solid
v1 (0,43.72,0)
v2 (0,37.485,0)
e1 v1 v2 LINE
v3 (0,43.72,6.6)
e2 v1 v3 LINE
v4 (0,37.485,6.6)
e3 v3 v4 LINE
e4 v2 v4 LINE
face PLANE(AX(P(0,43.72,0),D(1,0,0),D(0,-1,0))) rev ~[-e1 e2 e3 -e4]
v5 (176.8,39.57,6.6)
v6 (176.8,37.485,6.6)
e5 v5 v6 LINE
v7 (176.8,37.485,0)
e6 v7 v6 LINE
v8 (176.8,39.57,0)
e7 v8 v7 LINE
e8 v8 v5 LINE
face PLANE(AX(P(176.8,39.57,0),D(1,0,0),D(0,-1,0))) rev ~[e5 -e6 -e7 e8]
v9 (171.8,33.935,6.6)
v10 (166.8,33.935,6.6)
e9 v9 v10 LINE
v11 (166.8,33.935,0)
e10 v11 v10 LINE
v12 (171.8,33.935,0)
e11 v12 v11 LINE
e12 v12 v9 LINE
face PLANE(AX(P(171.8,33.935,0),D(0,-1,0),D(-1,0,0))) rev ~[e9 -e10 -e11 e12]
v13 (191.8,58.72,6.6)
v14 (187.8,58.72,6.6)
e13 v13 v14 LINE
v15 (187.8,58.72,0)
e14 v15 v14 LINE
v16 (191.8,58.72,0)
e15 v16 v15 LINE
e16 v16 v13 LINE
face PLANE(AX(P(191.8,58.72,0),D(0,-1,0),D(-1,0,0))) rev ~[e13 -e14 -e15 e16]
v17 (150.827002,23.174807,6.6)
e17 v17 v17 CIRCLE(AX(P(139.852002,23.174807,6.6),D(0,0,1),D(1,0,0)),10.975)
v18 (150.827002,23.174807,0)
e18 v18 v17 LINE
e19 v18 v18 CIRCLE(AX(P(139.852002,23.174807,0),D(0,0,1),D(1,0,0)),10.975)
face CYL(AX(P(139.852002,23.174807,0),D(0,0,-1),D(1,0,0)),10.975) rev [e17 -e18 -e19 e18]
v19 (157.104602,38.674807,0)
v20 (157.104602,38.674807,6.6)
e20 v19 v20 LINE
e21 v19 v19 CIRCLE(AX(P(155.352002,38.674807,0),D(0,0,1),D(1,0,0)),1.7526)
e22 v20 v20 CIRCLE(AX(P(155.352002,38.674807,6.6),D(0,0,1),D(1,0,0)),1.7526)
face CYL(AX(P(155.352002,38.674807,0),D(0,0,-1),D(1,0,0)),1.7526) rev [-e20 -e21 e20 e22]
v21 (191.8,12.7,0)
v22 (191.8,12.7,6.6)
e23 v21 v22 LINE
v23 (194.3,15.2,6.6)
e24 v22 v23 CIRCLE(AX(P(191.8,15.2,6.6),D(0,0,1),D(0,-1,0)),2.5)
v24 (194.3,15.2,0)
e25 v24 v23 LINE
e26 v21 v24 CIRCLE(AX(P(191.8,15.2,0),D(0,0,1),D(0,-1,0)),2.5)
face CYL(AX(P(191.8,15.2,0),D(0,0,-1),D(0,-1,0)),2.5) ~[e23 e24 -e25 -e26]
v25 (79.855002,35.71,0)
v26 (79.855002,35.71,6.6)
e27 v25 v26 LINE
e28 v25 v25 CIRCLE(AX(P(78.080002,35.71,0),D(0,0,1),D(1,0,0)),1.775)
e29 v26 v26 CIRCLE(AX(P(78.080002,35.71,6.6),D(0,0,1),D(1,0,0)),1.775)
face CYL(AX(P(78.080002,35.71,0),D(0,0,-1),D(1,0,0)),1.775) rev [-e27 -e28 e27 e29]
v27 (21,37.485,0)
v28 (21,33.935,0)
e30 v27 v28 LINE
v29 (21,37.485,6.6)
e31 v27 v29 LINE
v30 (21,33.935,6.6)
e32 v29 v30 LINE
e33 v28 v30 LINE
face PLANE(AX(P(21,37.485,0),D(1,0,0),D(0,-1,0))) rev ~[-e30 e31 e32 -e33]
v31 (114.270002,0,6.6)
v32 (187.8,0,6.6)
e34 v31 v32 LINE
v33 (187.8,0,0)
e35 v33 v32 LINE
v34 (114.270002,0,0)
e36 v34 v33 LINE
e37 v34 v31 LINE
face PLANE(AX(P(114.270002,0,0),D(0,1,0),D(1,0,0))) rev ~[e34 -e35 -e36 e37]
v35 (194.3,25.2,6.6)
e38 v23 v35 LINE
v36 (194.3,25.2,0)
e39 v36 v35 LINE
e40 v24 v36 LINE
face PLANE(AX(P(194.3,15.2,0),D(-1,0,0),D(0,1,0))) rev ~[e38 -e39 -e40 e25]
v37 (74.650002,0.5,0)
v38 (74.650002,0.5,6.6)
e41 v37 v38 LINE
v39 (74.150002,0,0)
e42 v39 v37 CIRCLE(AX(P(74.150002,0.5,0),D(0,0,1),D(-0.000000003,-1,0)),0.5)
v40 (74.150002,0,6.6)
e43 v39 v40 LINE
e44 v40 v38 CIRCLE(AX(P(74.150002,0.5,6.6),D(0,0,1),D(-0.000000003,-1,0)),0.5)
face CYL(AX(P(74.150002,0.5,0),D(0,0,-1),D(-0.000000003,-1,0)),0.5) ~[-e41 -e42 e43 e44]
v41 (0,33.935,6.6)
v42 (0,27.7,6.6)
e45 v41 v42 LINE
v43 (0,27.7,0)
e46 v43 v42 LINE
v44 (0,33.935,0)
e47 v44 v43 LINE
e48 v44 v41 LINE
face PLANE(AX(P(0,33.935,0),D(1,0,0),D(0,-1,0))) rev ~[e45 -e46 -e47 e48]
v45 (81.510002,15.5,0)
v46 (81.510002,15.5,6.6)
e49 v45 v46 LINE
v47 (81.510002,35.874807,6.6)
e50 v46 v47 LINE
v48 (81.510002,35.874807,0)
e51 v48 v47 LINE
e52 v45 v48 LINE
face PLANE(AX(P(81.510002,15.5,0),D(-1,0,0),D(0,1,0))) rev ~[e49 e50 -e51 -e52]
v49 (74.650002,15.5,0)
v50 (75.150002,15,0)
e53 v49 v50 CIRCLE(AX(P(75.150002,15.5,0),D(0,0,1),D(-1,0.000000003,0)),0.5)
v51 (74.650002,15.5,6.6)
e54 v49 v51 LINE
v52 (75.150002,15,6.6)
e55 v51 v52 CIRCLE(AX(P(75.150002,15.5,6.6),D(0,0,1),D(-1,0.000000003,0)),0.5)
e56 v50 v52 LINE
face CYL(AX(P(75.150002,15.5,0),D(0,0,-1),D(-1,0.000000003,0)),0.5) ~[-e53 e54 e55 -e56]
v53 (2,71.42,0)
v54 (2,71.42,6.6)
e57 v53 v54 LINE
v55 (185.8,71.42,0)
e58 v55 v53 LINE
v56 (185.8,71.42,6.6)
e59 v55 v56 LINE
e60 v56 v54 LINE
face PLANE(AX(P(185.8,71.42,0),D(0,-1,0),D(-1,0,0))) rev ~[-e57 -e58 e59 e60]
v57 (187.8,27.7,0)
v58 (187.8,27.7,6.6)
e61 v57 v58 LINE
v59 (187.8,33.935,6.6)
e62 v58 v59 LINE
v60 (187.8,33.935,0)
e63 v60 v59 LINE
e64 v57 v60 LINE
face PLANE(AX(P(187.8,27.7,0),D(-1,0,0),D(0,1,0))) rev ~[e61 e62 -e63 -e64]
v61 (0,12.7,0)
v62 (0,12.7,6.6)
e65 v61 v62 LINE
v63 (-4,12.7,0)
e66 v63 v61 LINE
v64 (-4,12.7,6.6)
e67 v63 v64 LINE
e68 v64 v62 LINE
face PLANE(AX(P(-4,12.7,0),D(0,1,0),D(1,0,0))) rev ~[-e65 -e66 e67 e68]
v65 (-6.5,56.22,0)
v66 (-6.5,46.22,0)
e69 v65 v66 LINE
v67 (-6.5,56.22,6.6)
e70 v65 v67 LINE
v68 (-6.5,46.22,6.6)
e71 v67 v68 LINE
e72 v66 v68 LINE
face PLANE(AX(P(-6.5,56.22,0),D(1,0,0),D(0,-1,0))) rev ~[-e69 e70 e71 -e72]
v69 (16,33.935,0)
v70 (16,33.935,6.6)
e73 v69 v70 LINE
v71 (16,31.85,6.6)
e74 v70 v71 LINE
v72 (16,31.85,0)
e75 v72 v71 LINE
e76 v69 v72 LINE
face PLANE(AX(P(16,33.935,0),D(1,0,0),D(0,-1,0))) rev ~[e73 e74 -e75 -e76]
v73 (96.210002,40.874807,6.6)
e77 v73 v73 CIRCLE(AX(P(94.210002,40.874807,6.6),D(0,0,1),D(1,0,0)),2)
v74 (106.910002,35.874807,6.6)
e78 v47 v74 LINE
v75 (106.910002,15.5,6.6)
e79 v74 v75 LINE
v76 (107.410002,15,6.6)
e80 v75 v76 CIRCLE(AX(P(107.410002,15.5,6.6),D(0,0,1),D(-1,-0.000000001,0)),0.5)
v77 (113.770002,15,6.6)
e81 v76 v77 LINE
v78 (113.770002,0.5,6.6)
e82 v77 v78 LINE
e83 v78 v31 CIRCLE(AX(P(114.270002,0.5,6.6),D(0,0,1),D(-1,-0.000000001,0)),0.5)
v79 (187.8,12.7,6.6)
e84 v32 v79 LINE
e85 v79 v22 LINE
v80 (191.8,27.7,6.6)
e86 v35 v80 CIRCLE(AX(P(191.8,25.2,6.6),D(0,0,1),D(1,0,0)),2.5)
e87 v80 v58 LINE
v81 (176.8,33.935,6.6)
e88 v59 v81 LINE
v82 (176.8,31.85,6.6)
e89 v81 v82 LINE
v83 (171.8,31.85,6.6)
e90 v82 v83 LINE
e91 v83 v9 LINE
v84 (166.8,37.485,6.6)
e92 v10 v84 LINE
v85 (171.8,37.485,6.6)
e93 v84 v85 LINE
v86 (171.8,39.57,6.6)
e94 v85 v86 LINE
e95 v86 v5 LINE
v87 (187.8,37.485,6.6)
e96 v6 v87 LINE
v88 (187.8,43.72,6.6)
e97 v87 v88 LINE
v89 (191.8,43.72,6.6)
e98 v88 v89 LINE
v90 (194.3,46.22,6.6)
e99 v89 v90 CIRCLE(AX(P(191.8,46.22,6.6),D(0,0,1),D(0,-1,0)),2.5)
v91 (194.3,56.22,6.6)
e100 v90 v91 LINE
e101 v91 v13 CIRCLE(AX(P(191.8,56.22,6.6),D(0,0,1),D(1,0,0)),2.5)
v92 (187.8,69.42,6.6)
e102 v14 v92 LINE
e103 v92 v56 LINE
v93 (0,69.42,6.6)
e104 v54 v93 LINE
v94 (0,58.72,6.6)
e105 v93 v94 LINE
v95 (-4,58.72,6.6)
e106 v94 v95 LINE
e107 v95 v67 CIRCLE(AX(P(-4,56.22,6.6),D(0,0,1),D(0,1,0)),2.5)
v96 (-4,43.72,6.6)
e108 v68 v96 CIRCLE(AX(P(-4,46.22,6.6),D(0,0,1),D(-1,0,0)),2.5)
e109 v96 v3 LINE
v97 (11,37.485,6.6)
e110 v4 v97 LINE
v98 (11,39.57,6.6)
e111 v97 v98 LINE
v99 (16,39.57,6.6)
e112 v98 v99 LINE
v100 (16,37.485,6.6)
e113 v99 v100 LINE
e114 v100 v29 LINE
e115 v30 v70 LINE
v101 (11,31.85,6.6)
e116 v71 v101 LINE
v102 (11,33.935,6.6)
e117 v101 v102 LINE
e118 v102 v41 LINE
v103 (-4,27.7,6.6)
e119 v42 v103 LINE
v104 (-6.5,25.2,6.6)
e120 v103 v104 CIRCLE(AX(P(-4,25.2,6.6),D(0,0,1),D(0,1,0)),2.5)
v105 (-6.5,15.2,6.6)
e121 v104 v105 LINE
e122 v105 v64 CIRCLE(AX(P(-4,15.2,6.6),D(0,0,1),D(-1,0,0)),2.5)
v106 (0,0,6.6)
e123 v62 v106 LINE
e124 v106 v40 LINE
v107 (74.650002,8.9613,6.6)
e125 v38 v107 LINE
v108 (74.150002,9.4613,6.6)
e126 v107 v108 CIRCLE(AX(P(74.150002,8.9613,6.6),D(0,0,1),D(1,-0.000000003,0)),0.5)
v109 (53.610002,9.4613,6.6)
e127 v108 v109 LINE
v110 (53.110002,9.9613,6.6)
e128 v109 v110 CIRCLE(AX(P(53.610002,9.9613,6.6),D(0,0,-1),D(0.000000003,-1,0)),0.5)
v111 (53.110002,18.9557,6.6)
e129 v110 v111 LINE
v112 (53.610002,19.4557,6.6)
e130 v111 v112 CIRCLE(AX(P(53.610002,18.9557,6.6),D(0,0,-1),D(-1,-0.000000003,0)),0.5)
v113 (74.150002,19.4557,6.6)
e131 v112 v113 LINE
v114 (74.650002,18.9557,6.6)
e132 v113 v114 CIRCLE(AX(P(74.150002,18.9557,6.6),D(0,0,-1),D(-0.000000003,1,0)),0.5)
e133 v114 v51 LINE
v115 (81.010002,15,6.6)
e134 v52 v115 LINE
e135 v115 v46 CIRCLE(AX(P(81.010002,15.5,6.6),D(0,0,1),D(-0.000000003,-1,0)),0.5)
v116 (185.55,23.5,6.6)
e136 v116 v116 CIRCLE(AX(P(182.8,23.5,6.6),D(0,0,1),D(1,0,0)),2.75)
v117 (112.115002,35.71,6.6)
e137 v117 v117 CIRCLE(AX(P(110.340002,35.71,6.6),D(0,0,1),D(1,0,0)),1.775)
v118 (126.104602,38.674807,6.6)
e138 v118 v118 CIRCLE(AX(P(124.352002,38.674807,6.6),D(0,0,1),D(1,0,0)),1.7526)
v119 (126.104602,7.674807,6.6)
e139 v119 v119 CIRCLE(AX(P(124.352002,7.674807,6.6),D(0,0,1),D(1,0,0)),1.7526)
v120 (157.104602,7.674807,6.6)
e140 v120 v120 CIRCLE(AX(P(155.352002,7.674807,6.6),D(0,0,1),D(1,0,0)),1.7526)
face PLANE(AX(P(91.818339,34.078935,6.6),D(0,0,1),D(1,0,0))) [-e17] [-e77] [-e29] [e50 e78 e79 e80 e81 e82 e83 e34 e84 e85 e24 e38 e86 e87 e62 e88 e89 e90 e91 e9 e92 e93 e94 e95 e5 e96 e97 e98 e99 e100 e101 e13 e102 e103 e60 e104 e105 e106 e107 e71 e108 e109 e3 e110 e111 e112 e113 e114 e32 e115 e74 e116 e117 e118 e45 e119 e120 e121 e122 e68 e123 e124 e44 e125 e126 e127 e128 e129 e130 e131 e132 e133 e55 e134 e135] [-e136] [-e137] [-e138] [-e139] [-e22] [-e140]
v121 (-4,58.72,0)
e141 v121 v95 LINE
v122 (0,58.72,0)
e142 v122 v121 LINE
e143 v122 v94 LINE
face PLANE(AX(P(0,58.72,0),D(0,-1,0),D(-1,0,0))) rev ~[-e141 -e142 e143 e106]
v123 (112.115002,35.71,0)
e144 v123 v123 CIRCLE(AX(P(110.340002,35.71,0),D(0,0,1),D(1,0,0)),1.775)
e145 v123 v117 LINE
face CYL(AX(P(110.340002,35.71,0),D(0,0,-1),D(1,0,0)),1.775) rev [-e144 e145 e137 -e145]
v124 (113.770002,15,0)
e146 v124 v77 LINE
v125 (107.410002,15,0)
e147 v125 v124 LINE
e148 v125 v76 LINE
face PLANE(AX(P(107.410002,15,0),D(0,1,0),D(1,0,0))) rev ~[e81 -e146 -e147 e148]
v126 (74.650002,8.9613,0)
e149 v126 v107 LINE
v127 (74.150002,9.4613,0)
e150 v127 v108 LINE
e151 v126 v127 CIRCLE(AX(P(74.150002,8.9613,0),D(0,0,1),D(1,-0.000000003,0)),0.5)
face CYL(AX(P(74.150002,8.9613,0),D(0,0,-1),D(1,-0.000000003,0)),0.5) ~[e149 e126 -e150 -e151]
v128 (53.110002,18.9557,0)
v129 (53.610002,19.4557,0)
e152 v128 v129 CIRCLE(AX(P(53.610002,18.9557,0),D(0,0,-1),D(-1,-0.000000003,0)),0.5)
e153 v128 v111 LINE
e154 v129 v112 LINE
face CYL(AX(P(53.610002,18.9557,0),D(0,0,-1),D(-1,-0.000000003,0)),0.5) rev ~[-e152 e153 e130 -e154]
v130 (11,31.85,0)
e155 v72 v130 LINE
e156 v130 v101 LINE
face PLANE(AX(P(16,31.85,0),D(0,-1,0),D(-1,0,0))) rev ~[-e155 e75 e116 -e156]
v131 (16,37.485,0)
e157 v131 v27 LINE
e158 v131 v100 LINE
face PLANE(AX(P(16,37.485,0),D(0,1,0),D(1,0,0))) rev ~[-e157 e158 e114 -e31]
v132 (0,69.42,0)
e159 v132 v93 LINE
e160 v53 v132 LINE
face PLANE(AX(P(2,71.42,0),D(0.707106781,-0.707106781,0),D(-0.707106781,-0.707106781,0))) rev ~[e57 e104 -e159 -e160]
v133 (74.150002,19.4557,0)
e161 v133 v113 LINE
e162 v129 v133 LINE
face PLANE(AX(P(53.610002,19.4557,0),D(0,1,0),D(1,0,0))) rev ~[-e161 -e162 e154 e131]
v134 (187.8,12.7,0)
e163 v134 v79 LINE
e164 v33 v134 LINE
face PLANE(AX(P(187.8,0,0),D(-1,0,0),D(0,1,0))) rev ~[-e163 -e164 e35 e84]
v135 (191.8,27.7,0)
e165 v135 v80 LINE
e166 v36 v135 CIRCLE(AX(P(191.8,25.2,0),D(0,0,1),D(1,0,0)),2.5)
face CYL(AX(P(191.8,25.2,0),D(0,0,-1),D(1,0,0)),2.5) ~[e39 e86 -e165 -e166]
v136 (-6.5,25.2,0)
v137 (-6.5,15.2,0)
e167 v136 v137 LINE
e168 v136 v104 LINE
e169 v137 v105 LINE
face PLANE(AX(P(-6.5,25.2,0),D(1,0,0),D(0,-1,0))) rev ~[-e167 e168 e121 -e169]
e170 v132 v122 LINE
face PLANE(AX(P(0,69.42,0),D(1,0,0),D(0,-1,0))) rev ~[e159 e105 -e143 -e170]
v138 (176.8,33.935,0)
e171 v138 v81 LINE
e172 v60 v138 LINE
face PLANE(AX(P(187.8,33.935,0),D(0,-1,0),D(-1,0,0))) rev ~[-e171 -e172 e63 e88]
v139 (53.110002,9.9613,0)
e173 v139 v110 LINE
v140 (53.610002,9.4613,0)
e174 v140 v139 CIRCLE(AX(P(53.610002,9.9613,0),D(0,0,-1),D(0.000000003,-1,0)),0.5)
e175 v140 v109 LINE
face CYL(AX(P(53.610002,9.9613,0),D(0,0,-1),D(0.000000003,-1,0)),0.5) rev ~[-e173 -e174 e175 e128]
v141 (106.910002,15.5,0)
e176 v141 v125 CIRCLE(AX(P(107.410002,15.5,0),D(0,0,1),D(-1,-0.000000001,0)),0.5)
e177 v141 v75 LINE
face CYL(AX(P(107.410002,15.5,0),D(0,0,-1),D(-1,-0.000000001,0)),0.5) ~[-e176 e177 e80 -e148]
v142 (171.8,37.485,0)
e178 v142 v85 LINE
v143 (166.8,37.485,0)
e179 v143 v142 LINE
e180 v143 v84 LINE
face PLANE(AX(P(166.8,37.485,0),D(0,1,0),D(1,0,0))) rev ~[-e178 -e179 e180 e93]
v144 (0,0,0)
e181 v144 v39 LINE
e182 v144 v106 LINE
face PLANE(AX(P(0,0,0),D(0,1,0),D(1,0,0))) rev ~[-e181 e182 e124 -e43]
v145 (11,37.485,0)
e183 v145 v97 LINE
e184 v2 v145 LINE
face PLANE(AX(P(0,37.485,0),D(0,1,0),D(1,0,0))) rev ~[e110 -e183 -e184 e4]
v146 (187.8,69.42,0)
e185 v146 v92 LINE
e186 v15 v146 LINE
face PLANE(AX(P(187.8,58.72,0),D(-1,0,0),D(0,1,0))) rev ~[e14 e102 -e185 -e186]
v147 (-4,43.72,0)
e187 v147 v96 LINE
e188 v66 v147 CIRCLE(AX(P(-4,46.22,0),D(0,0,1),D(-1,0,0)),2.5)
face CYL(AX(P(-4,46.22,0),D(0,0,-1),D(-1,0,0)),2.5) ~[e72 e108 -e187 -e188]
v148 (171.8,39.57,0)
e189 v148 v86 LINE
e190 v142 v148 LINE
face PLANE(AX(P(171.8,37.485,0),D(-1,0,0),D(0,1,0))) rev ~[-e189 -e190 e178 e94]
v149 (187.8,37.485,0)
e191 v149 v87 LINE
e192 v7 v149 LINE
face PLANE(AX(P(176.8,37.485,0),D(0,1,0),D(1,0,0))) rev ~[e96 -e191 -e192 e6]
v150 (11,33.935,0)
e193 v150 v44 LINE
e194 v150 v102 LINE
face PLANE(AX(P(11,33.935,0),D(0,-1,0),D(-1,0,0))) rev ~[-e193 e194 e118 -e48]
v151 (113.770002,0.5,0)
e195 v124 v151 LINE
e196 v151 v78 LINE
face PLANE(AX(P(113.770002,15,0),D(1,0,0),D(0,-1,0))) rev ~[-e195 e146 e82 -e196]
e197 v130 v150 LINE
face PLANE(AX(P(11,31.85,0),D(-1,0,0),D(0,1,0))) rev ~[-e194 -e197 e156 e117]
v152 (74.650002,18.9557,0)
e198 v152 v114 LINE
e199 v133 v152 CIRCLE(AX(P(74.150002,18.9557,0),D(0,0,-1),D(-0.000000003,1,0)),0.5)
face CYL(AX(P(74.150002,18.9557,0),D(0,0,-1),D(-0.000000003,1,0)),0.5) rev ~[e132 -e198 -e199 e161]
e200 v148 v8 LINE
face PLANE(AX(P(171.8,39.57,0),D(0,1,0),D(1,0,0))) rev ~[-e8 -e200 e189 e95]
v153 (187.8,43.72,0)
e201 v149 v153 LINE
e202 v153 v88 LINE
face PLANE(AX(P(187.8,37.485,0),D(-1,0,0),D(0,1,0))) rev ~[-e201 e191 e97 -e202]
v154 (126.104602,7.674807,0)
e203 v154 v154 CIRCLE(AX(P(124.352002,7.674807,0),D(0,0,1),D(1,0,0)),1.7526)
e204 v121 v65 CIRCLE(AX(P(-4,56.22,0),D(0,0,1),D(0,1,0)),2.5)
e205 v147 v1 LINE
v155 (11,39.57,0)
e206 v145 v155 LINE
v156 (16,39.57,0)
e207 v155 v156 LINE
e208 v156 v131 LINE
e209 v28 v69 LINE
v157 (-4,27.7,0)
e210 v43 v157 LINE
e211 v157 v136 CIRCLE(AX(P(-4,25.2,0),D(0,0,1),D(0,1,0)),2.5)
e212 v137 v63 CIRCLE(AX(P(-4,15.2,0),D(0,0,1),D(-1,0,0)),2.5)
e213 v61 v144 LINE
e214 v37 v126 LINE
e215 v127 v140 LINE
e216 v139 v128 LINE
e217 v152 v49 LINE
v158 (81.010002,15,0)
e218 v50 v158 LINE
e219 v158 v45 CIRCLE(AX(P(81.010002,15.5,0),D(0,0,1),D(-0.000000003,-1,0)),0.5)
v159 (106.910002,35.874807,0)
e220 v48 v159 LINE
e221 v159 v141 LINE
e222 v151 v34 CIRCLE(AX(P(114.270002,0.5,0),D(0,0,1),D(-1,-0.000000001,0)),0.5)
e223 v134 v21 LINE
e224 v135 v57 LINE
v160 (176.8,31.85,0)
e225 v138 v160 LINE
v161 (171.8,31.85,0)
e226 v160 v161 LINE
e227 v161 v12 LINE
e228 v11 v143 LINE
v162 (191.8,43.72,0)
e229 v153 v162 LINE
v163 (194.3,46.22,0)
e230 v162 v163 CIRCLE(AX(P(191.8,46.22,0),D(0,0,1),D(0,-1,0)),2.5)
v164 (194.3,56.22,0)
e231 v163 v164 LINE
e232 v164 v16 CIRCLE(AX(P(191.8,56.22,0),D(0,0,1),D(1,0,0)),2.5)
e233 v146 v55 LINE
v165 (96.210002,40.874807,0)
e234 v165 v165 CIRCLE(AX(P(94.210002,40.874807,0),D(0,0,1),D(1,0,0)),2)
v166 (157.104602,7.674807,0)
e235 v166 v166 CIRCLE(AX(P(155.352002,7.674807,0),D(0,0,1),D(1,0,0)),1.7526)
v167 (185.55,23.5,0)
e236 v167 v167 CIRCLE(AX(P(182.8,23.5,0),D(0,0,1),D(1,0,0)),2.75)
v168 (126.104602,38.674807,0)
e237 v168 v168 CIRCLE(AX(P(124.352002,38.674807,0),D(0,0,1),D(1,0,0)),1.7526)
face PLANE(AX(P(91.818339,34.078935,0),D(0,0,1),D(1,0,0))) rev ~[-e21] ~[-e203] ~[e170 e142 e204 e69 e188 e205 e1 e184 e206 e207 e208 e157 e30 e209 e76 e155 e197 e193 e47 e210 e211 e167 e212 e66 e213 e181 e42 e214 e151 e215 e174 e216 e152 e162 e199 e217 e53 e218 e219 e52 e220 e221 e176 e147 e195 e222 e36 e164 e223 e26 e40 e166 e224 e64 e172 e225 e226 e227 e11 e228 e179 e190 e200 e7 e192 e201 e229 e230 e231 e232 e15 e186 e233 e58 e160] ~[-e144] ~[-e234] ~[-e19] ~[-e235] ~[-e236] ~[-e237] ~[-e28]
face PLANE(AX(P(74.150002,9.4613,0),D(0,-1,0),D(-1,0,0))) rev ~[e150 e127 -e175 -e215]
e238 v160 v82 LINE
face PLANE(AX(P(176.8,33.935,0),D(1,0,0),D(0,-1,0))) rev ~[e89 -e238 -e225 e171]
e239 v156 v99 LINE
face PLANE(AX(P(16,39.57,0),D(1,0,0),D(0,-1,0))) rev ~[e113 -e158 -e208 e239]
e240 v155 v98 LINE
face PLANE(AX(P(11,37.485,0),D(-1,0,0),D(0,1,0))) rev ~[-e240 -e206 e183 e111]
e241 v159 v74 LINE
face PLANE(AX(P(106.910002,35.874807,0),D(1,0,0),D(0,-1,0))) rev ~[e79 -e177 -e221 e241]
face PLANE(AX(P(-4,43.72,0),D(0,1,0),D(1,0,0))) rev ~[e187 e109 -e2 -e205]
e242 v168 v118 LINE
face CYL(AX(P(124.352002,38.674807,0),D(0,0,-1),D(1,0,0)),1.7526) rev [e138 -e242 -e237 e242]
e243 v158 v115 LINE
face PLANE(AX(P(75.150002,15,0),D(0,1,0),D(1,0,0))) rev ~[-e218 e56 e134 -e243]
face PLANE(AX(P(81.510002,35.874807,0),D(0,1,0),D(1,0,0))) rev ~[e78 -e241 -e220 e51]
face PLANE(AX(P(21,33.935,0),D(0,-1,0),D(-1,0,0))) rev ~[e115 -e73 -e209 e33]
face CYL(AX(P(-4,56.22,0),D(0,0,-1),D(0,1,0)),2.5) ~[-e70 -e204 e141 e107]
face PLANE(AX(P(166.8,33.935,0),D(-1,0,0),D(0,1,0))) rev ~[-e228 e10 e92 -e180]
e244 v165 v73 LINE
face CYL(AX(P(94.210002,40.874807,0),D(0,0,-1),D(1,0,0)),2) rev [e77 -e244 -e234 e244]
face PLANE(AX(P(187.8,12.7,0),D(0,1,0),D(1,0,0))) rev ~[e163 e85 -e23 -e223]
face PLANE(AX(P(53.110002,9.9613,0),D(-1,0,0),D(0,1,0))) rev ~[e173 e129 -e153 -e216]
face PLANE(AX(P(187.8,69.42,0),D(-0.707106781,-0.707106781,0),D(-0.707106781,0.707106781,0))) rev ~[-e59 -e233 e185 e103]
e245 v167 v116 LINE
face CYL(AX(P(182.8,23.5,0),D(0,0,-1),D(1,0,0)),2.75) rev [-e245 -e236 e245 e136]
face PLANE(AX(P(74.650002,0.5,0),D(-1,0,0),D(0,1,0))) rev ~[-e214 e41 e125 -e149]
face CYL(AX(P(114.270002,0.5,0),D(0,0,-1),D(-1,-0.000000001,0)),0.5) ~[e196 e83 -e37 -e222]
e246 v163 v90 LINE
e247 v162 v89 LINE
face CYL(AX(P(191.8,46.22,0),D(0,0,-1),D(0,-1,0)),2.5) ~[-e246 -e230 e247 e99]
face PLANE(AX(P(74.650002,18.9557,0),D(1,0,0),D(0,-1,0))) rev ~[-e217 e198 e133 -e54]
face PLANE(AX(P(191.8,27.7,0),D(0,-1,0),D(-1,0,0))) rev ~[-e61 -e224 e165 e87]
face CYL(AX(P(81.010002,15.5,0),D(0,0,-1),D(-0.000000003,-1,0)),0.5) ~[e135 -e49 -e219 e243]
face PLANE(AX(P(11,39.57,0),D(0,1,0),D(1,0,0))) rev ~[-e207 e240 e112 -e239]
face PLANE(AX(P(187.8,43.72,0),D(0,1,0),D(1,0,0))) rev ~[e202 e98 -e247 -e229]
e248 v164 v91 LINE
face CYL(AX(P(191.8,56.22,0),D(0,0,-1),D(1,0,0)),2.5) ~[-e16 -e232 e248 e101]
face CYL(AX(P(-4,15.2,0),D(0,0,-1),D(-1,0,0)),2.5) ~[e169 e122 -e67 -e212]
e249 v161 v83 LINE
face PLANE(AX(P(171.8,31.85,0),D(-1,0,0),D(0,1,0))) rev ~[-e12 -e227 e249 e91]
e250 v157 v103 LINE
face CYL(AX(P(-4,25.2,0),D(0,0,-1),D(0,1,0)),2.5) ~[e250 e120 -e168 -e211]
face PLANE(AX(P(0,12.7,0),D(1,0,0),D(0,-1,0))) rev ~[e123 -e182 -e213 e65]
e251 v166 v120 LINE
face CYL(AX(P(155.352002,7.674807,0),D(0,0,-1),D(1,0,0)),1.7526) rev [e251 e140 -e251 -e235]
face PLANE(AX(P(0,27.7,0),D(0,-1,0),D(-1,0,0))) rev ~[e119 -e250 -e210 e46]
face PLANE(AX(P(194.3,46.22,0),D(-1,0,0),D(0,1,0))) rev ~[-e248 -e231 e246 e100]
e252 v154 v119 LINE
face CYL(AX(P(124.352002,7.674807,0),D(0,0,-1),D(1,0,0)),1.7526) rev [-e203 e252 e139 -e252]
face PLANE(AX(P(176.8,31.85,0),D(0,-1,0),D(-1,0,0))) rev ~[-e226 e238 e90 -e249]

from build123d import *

# Parameters (mm, degrees)
MODEL_R             = 1.7526
MODEL_R_2           = 10.975
MODEL_R_3           = 2
MODEL_R_4           = 2.75
MODEL_R_5           = 1.775
BOSS_EXTRUDE1_DEPTH = 6.6


with BuildPart() as part:
    # Model → Boss-Extrude1 (new body)
    with BuildSketch(Plane.XY):
        with BuildLine():
            Line((0, 0), (74.150001665, 0))
            ThreePointArc((74.150001665, 0), (74.503555056, 0.146446609), (74.650001665, 0.5))
            Line((74.650001665, 0.5), (74.650001665, 8.9613))
            ThreePointArc((74.650001665, 8.9613), (74.503555056, 9.314853391), (74.150001665, 9.4613))
            Line((74.150001665, 9.4613), (53.610001665, 9.4613))
            ThreePointArc((53.610001665, 9.4613), (53.256448274, 9.607746609), (53.110001665, 9.9613))
            Line((53.110001665, 9.9613), (53.110001665, 18.9557))
            ThreePointArc((53.110001665, 18.9557), (53.256448274, 19.309253391), (53.610001665, 19.4557))
            Line((53.610001665, 19.4557), (74.150001665, 19.4557))
            ThreePointArc((74.150001665, 19.4557), (74.503555056, 19.309253391), (74.650001665, 18.9557))
            Line((74.650001665, 18.9557), (74.650001665, 15.5))
            ThreePointArc((74.650001665, 15.5), (74.796448274, 15.146446609), (75.150001665, 15))
            Line((75.150001665, 15), (81.010001665, 15))
            ThreePointArc((81.010001665, 15), (81.363555056, 15.146446609), (81.510001665, 15.5))
            Line((81.510001665, 15.5), (81.510001665, 35.87480678))
            Line((81.510001665, 35.87480678), (106.910001664, 35.87480678))
            Line((106.910001664, 35.87480678), (106.910001664, 15.5))
            ThreePointArc((106.910001664, 15.5), (107.056448274, 15.146446609), (107.410001664, 15))
            Line((107.410001664, 15), (113.770001664, 15))
            Line((113.770001664, 15), (113.770001664, 0.5))
            ThreePointArc((113.770001664, 0.5), (113.916448274, 0.146446609), (114.270001664, 0))
            Line((114.270001664, 0), (187.8, 0))
            Line((187.8, 0), (187.8, 12.7))
            Line((187.8, 12.7), (191.8, 12.7))
            ThreePointArc((191.8, 12.7), (193.567766953, 13.432233047), (194.3, 15.2))
            Line((194.3, 15.2), (194.3, 25.2))
            ThreePointArc((194.3, 25.2), (193.567766953, 26.967766953), (191.8, 27.7))
            Line((191.8, 27.7), (187.8, 27.7))
            Line((187.8, 27.7), (187.8, 33.935))
            Line((187.8, 33.935), (176.8, 33.935))
            Line((176.8, 33.935), (176.8, 31.85))
            Line((176.8, 31.85), (171.8, 31.85))
            Line((171.8, 31.85), (171.8, 33.935))
            Line((171.8, 33.935), (166.8, 33.935))
            Line((166.8, 33.935), (166.8, 37.485))
            Line((166.8, 37.485), (171.8, 37.485))
            Line((171.8, 37.485), (171.8, 39.57))
            Line((171.8, 39.57), (176.8, 39.57))
            Line((176.8, 39.57), (176.8, 37.485))
            Line((176.8, 37.485), (187.8, 37.485))
            Line((187.8, 37.485), (187.8, 43.72))
            Line((187.8, 43.72), (191.8, 43.72))
            ThreePointArc((191.8, 43.72), (193.567766953, 44.452233047), (194.3, 46.22))
            Line((194.3, 46.22), (194.3, 56.22))
            ThreePointArc((194.3, 56.22), (193.567766953, 57.987766953), (191.8, 58.72))
            Line((191.8, 58.72), (187.8, 58.72))
            Line((187.8, 58.72), (187.8, 69.42))
            Line((187.8, 69.42), (185.8, 71.42))
            Line((185.8, 71.42), (2, 71.42))
            Line((2, 71.42), (0, 69.42))
            Line((0, 69.42), (0, 58.72))
            Line((0, 58.72), (-4, 58.72))
            ThreePointArc((-4, 58.72), (-5.767766953, 57.987766953), (-6.5, 56.22))
            Line((-6.5, 56.22), (-6.5, 46.22))
            ThreePointArc((-6.5, 46.22), (-5.767766953, 44.452233047), (-4, 43.72))
            Line((-4, 43.72), (0, 43.72))
            Line((0, 43.72), (0, 37.485))
            Line((0, 37.485), (11, 37.485))
            Line((11, 37.485), (11, 39.57))
            Line((11, 39.57), (16, 39.57))
            Line((16, 39.57), (16, 37.485))
            Line((16, 37.485), (21, 37.485))
            Line((21, 37.485), (21, 33.935))
            Line((21, 33.935), (16, 33.935))
            Line((16, 33.935), (16, 31.85))
            Line((16, 31.85), (11, 31.85))
            Line((11, 31.85), (11, 33.935))
            Line((11, 33.935), (0, 33.935))
            Line((0, 33.935), (0, 27.7))
            Line((0, 27.7), (-4, 27.7))
            ThreePointArc((-4, 27.7), (-5.767766953, 26.967766953), (-6.5, 25.2))
            Line((-6.5, 25.2), (-6.5, 15.2))
            ThreePointArc((-6.5, 15.2), (-5.767766953, 13.432233047), (-4, 12.7))
            Line((-4, 12.7), (0, 12.7))
            Line((0, 12.7), (0, 0))
        make_face()
        with Locations((155.352001664, 38.674806781)):
            Circle(MODEL_R, mode=Mode.SUBTRACT)
        with Locations((155.352001664, 7.674806781)):
            Circle(MODEL_R, mode=Mode.SUBTRACT)
        with Locations((124.352001664, 38.674806781)):
            Circle(MODEL_R, mode=Mode.SUBTRACT)
        with Locations((124.352001664, 7.674806781)):
            Circle(MODEL_R, mode=Mode.SUBTRACT)
        with Locations((139.852001664, 23.174806781)):
            Circle(MODEL_R_2, mode=Mode.SUBTRACT)
        with Locations((94.210001665, 40.87480678)):
            Circle(MODEL_R_3, mode=Mode.SUBTRACT)
        with Locations((182.8, 23.5)):
            Circle(MODEL_R_4, mode=Mode.SUBTRACT)
        with Locations((110.340001664, 35.71)):
            Circle(MODEL_R_5, mode=Mode.SUBTRACT)
        with Locations((78.080001665, 35.71)):
            Circle(MODEL_R_5, mode=Mode.SUBTRACT)
    extrude(amount=BOSS_EXTRUDE1_DEPTH)


solid = part.part
